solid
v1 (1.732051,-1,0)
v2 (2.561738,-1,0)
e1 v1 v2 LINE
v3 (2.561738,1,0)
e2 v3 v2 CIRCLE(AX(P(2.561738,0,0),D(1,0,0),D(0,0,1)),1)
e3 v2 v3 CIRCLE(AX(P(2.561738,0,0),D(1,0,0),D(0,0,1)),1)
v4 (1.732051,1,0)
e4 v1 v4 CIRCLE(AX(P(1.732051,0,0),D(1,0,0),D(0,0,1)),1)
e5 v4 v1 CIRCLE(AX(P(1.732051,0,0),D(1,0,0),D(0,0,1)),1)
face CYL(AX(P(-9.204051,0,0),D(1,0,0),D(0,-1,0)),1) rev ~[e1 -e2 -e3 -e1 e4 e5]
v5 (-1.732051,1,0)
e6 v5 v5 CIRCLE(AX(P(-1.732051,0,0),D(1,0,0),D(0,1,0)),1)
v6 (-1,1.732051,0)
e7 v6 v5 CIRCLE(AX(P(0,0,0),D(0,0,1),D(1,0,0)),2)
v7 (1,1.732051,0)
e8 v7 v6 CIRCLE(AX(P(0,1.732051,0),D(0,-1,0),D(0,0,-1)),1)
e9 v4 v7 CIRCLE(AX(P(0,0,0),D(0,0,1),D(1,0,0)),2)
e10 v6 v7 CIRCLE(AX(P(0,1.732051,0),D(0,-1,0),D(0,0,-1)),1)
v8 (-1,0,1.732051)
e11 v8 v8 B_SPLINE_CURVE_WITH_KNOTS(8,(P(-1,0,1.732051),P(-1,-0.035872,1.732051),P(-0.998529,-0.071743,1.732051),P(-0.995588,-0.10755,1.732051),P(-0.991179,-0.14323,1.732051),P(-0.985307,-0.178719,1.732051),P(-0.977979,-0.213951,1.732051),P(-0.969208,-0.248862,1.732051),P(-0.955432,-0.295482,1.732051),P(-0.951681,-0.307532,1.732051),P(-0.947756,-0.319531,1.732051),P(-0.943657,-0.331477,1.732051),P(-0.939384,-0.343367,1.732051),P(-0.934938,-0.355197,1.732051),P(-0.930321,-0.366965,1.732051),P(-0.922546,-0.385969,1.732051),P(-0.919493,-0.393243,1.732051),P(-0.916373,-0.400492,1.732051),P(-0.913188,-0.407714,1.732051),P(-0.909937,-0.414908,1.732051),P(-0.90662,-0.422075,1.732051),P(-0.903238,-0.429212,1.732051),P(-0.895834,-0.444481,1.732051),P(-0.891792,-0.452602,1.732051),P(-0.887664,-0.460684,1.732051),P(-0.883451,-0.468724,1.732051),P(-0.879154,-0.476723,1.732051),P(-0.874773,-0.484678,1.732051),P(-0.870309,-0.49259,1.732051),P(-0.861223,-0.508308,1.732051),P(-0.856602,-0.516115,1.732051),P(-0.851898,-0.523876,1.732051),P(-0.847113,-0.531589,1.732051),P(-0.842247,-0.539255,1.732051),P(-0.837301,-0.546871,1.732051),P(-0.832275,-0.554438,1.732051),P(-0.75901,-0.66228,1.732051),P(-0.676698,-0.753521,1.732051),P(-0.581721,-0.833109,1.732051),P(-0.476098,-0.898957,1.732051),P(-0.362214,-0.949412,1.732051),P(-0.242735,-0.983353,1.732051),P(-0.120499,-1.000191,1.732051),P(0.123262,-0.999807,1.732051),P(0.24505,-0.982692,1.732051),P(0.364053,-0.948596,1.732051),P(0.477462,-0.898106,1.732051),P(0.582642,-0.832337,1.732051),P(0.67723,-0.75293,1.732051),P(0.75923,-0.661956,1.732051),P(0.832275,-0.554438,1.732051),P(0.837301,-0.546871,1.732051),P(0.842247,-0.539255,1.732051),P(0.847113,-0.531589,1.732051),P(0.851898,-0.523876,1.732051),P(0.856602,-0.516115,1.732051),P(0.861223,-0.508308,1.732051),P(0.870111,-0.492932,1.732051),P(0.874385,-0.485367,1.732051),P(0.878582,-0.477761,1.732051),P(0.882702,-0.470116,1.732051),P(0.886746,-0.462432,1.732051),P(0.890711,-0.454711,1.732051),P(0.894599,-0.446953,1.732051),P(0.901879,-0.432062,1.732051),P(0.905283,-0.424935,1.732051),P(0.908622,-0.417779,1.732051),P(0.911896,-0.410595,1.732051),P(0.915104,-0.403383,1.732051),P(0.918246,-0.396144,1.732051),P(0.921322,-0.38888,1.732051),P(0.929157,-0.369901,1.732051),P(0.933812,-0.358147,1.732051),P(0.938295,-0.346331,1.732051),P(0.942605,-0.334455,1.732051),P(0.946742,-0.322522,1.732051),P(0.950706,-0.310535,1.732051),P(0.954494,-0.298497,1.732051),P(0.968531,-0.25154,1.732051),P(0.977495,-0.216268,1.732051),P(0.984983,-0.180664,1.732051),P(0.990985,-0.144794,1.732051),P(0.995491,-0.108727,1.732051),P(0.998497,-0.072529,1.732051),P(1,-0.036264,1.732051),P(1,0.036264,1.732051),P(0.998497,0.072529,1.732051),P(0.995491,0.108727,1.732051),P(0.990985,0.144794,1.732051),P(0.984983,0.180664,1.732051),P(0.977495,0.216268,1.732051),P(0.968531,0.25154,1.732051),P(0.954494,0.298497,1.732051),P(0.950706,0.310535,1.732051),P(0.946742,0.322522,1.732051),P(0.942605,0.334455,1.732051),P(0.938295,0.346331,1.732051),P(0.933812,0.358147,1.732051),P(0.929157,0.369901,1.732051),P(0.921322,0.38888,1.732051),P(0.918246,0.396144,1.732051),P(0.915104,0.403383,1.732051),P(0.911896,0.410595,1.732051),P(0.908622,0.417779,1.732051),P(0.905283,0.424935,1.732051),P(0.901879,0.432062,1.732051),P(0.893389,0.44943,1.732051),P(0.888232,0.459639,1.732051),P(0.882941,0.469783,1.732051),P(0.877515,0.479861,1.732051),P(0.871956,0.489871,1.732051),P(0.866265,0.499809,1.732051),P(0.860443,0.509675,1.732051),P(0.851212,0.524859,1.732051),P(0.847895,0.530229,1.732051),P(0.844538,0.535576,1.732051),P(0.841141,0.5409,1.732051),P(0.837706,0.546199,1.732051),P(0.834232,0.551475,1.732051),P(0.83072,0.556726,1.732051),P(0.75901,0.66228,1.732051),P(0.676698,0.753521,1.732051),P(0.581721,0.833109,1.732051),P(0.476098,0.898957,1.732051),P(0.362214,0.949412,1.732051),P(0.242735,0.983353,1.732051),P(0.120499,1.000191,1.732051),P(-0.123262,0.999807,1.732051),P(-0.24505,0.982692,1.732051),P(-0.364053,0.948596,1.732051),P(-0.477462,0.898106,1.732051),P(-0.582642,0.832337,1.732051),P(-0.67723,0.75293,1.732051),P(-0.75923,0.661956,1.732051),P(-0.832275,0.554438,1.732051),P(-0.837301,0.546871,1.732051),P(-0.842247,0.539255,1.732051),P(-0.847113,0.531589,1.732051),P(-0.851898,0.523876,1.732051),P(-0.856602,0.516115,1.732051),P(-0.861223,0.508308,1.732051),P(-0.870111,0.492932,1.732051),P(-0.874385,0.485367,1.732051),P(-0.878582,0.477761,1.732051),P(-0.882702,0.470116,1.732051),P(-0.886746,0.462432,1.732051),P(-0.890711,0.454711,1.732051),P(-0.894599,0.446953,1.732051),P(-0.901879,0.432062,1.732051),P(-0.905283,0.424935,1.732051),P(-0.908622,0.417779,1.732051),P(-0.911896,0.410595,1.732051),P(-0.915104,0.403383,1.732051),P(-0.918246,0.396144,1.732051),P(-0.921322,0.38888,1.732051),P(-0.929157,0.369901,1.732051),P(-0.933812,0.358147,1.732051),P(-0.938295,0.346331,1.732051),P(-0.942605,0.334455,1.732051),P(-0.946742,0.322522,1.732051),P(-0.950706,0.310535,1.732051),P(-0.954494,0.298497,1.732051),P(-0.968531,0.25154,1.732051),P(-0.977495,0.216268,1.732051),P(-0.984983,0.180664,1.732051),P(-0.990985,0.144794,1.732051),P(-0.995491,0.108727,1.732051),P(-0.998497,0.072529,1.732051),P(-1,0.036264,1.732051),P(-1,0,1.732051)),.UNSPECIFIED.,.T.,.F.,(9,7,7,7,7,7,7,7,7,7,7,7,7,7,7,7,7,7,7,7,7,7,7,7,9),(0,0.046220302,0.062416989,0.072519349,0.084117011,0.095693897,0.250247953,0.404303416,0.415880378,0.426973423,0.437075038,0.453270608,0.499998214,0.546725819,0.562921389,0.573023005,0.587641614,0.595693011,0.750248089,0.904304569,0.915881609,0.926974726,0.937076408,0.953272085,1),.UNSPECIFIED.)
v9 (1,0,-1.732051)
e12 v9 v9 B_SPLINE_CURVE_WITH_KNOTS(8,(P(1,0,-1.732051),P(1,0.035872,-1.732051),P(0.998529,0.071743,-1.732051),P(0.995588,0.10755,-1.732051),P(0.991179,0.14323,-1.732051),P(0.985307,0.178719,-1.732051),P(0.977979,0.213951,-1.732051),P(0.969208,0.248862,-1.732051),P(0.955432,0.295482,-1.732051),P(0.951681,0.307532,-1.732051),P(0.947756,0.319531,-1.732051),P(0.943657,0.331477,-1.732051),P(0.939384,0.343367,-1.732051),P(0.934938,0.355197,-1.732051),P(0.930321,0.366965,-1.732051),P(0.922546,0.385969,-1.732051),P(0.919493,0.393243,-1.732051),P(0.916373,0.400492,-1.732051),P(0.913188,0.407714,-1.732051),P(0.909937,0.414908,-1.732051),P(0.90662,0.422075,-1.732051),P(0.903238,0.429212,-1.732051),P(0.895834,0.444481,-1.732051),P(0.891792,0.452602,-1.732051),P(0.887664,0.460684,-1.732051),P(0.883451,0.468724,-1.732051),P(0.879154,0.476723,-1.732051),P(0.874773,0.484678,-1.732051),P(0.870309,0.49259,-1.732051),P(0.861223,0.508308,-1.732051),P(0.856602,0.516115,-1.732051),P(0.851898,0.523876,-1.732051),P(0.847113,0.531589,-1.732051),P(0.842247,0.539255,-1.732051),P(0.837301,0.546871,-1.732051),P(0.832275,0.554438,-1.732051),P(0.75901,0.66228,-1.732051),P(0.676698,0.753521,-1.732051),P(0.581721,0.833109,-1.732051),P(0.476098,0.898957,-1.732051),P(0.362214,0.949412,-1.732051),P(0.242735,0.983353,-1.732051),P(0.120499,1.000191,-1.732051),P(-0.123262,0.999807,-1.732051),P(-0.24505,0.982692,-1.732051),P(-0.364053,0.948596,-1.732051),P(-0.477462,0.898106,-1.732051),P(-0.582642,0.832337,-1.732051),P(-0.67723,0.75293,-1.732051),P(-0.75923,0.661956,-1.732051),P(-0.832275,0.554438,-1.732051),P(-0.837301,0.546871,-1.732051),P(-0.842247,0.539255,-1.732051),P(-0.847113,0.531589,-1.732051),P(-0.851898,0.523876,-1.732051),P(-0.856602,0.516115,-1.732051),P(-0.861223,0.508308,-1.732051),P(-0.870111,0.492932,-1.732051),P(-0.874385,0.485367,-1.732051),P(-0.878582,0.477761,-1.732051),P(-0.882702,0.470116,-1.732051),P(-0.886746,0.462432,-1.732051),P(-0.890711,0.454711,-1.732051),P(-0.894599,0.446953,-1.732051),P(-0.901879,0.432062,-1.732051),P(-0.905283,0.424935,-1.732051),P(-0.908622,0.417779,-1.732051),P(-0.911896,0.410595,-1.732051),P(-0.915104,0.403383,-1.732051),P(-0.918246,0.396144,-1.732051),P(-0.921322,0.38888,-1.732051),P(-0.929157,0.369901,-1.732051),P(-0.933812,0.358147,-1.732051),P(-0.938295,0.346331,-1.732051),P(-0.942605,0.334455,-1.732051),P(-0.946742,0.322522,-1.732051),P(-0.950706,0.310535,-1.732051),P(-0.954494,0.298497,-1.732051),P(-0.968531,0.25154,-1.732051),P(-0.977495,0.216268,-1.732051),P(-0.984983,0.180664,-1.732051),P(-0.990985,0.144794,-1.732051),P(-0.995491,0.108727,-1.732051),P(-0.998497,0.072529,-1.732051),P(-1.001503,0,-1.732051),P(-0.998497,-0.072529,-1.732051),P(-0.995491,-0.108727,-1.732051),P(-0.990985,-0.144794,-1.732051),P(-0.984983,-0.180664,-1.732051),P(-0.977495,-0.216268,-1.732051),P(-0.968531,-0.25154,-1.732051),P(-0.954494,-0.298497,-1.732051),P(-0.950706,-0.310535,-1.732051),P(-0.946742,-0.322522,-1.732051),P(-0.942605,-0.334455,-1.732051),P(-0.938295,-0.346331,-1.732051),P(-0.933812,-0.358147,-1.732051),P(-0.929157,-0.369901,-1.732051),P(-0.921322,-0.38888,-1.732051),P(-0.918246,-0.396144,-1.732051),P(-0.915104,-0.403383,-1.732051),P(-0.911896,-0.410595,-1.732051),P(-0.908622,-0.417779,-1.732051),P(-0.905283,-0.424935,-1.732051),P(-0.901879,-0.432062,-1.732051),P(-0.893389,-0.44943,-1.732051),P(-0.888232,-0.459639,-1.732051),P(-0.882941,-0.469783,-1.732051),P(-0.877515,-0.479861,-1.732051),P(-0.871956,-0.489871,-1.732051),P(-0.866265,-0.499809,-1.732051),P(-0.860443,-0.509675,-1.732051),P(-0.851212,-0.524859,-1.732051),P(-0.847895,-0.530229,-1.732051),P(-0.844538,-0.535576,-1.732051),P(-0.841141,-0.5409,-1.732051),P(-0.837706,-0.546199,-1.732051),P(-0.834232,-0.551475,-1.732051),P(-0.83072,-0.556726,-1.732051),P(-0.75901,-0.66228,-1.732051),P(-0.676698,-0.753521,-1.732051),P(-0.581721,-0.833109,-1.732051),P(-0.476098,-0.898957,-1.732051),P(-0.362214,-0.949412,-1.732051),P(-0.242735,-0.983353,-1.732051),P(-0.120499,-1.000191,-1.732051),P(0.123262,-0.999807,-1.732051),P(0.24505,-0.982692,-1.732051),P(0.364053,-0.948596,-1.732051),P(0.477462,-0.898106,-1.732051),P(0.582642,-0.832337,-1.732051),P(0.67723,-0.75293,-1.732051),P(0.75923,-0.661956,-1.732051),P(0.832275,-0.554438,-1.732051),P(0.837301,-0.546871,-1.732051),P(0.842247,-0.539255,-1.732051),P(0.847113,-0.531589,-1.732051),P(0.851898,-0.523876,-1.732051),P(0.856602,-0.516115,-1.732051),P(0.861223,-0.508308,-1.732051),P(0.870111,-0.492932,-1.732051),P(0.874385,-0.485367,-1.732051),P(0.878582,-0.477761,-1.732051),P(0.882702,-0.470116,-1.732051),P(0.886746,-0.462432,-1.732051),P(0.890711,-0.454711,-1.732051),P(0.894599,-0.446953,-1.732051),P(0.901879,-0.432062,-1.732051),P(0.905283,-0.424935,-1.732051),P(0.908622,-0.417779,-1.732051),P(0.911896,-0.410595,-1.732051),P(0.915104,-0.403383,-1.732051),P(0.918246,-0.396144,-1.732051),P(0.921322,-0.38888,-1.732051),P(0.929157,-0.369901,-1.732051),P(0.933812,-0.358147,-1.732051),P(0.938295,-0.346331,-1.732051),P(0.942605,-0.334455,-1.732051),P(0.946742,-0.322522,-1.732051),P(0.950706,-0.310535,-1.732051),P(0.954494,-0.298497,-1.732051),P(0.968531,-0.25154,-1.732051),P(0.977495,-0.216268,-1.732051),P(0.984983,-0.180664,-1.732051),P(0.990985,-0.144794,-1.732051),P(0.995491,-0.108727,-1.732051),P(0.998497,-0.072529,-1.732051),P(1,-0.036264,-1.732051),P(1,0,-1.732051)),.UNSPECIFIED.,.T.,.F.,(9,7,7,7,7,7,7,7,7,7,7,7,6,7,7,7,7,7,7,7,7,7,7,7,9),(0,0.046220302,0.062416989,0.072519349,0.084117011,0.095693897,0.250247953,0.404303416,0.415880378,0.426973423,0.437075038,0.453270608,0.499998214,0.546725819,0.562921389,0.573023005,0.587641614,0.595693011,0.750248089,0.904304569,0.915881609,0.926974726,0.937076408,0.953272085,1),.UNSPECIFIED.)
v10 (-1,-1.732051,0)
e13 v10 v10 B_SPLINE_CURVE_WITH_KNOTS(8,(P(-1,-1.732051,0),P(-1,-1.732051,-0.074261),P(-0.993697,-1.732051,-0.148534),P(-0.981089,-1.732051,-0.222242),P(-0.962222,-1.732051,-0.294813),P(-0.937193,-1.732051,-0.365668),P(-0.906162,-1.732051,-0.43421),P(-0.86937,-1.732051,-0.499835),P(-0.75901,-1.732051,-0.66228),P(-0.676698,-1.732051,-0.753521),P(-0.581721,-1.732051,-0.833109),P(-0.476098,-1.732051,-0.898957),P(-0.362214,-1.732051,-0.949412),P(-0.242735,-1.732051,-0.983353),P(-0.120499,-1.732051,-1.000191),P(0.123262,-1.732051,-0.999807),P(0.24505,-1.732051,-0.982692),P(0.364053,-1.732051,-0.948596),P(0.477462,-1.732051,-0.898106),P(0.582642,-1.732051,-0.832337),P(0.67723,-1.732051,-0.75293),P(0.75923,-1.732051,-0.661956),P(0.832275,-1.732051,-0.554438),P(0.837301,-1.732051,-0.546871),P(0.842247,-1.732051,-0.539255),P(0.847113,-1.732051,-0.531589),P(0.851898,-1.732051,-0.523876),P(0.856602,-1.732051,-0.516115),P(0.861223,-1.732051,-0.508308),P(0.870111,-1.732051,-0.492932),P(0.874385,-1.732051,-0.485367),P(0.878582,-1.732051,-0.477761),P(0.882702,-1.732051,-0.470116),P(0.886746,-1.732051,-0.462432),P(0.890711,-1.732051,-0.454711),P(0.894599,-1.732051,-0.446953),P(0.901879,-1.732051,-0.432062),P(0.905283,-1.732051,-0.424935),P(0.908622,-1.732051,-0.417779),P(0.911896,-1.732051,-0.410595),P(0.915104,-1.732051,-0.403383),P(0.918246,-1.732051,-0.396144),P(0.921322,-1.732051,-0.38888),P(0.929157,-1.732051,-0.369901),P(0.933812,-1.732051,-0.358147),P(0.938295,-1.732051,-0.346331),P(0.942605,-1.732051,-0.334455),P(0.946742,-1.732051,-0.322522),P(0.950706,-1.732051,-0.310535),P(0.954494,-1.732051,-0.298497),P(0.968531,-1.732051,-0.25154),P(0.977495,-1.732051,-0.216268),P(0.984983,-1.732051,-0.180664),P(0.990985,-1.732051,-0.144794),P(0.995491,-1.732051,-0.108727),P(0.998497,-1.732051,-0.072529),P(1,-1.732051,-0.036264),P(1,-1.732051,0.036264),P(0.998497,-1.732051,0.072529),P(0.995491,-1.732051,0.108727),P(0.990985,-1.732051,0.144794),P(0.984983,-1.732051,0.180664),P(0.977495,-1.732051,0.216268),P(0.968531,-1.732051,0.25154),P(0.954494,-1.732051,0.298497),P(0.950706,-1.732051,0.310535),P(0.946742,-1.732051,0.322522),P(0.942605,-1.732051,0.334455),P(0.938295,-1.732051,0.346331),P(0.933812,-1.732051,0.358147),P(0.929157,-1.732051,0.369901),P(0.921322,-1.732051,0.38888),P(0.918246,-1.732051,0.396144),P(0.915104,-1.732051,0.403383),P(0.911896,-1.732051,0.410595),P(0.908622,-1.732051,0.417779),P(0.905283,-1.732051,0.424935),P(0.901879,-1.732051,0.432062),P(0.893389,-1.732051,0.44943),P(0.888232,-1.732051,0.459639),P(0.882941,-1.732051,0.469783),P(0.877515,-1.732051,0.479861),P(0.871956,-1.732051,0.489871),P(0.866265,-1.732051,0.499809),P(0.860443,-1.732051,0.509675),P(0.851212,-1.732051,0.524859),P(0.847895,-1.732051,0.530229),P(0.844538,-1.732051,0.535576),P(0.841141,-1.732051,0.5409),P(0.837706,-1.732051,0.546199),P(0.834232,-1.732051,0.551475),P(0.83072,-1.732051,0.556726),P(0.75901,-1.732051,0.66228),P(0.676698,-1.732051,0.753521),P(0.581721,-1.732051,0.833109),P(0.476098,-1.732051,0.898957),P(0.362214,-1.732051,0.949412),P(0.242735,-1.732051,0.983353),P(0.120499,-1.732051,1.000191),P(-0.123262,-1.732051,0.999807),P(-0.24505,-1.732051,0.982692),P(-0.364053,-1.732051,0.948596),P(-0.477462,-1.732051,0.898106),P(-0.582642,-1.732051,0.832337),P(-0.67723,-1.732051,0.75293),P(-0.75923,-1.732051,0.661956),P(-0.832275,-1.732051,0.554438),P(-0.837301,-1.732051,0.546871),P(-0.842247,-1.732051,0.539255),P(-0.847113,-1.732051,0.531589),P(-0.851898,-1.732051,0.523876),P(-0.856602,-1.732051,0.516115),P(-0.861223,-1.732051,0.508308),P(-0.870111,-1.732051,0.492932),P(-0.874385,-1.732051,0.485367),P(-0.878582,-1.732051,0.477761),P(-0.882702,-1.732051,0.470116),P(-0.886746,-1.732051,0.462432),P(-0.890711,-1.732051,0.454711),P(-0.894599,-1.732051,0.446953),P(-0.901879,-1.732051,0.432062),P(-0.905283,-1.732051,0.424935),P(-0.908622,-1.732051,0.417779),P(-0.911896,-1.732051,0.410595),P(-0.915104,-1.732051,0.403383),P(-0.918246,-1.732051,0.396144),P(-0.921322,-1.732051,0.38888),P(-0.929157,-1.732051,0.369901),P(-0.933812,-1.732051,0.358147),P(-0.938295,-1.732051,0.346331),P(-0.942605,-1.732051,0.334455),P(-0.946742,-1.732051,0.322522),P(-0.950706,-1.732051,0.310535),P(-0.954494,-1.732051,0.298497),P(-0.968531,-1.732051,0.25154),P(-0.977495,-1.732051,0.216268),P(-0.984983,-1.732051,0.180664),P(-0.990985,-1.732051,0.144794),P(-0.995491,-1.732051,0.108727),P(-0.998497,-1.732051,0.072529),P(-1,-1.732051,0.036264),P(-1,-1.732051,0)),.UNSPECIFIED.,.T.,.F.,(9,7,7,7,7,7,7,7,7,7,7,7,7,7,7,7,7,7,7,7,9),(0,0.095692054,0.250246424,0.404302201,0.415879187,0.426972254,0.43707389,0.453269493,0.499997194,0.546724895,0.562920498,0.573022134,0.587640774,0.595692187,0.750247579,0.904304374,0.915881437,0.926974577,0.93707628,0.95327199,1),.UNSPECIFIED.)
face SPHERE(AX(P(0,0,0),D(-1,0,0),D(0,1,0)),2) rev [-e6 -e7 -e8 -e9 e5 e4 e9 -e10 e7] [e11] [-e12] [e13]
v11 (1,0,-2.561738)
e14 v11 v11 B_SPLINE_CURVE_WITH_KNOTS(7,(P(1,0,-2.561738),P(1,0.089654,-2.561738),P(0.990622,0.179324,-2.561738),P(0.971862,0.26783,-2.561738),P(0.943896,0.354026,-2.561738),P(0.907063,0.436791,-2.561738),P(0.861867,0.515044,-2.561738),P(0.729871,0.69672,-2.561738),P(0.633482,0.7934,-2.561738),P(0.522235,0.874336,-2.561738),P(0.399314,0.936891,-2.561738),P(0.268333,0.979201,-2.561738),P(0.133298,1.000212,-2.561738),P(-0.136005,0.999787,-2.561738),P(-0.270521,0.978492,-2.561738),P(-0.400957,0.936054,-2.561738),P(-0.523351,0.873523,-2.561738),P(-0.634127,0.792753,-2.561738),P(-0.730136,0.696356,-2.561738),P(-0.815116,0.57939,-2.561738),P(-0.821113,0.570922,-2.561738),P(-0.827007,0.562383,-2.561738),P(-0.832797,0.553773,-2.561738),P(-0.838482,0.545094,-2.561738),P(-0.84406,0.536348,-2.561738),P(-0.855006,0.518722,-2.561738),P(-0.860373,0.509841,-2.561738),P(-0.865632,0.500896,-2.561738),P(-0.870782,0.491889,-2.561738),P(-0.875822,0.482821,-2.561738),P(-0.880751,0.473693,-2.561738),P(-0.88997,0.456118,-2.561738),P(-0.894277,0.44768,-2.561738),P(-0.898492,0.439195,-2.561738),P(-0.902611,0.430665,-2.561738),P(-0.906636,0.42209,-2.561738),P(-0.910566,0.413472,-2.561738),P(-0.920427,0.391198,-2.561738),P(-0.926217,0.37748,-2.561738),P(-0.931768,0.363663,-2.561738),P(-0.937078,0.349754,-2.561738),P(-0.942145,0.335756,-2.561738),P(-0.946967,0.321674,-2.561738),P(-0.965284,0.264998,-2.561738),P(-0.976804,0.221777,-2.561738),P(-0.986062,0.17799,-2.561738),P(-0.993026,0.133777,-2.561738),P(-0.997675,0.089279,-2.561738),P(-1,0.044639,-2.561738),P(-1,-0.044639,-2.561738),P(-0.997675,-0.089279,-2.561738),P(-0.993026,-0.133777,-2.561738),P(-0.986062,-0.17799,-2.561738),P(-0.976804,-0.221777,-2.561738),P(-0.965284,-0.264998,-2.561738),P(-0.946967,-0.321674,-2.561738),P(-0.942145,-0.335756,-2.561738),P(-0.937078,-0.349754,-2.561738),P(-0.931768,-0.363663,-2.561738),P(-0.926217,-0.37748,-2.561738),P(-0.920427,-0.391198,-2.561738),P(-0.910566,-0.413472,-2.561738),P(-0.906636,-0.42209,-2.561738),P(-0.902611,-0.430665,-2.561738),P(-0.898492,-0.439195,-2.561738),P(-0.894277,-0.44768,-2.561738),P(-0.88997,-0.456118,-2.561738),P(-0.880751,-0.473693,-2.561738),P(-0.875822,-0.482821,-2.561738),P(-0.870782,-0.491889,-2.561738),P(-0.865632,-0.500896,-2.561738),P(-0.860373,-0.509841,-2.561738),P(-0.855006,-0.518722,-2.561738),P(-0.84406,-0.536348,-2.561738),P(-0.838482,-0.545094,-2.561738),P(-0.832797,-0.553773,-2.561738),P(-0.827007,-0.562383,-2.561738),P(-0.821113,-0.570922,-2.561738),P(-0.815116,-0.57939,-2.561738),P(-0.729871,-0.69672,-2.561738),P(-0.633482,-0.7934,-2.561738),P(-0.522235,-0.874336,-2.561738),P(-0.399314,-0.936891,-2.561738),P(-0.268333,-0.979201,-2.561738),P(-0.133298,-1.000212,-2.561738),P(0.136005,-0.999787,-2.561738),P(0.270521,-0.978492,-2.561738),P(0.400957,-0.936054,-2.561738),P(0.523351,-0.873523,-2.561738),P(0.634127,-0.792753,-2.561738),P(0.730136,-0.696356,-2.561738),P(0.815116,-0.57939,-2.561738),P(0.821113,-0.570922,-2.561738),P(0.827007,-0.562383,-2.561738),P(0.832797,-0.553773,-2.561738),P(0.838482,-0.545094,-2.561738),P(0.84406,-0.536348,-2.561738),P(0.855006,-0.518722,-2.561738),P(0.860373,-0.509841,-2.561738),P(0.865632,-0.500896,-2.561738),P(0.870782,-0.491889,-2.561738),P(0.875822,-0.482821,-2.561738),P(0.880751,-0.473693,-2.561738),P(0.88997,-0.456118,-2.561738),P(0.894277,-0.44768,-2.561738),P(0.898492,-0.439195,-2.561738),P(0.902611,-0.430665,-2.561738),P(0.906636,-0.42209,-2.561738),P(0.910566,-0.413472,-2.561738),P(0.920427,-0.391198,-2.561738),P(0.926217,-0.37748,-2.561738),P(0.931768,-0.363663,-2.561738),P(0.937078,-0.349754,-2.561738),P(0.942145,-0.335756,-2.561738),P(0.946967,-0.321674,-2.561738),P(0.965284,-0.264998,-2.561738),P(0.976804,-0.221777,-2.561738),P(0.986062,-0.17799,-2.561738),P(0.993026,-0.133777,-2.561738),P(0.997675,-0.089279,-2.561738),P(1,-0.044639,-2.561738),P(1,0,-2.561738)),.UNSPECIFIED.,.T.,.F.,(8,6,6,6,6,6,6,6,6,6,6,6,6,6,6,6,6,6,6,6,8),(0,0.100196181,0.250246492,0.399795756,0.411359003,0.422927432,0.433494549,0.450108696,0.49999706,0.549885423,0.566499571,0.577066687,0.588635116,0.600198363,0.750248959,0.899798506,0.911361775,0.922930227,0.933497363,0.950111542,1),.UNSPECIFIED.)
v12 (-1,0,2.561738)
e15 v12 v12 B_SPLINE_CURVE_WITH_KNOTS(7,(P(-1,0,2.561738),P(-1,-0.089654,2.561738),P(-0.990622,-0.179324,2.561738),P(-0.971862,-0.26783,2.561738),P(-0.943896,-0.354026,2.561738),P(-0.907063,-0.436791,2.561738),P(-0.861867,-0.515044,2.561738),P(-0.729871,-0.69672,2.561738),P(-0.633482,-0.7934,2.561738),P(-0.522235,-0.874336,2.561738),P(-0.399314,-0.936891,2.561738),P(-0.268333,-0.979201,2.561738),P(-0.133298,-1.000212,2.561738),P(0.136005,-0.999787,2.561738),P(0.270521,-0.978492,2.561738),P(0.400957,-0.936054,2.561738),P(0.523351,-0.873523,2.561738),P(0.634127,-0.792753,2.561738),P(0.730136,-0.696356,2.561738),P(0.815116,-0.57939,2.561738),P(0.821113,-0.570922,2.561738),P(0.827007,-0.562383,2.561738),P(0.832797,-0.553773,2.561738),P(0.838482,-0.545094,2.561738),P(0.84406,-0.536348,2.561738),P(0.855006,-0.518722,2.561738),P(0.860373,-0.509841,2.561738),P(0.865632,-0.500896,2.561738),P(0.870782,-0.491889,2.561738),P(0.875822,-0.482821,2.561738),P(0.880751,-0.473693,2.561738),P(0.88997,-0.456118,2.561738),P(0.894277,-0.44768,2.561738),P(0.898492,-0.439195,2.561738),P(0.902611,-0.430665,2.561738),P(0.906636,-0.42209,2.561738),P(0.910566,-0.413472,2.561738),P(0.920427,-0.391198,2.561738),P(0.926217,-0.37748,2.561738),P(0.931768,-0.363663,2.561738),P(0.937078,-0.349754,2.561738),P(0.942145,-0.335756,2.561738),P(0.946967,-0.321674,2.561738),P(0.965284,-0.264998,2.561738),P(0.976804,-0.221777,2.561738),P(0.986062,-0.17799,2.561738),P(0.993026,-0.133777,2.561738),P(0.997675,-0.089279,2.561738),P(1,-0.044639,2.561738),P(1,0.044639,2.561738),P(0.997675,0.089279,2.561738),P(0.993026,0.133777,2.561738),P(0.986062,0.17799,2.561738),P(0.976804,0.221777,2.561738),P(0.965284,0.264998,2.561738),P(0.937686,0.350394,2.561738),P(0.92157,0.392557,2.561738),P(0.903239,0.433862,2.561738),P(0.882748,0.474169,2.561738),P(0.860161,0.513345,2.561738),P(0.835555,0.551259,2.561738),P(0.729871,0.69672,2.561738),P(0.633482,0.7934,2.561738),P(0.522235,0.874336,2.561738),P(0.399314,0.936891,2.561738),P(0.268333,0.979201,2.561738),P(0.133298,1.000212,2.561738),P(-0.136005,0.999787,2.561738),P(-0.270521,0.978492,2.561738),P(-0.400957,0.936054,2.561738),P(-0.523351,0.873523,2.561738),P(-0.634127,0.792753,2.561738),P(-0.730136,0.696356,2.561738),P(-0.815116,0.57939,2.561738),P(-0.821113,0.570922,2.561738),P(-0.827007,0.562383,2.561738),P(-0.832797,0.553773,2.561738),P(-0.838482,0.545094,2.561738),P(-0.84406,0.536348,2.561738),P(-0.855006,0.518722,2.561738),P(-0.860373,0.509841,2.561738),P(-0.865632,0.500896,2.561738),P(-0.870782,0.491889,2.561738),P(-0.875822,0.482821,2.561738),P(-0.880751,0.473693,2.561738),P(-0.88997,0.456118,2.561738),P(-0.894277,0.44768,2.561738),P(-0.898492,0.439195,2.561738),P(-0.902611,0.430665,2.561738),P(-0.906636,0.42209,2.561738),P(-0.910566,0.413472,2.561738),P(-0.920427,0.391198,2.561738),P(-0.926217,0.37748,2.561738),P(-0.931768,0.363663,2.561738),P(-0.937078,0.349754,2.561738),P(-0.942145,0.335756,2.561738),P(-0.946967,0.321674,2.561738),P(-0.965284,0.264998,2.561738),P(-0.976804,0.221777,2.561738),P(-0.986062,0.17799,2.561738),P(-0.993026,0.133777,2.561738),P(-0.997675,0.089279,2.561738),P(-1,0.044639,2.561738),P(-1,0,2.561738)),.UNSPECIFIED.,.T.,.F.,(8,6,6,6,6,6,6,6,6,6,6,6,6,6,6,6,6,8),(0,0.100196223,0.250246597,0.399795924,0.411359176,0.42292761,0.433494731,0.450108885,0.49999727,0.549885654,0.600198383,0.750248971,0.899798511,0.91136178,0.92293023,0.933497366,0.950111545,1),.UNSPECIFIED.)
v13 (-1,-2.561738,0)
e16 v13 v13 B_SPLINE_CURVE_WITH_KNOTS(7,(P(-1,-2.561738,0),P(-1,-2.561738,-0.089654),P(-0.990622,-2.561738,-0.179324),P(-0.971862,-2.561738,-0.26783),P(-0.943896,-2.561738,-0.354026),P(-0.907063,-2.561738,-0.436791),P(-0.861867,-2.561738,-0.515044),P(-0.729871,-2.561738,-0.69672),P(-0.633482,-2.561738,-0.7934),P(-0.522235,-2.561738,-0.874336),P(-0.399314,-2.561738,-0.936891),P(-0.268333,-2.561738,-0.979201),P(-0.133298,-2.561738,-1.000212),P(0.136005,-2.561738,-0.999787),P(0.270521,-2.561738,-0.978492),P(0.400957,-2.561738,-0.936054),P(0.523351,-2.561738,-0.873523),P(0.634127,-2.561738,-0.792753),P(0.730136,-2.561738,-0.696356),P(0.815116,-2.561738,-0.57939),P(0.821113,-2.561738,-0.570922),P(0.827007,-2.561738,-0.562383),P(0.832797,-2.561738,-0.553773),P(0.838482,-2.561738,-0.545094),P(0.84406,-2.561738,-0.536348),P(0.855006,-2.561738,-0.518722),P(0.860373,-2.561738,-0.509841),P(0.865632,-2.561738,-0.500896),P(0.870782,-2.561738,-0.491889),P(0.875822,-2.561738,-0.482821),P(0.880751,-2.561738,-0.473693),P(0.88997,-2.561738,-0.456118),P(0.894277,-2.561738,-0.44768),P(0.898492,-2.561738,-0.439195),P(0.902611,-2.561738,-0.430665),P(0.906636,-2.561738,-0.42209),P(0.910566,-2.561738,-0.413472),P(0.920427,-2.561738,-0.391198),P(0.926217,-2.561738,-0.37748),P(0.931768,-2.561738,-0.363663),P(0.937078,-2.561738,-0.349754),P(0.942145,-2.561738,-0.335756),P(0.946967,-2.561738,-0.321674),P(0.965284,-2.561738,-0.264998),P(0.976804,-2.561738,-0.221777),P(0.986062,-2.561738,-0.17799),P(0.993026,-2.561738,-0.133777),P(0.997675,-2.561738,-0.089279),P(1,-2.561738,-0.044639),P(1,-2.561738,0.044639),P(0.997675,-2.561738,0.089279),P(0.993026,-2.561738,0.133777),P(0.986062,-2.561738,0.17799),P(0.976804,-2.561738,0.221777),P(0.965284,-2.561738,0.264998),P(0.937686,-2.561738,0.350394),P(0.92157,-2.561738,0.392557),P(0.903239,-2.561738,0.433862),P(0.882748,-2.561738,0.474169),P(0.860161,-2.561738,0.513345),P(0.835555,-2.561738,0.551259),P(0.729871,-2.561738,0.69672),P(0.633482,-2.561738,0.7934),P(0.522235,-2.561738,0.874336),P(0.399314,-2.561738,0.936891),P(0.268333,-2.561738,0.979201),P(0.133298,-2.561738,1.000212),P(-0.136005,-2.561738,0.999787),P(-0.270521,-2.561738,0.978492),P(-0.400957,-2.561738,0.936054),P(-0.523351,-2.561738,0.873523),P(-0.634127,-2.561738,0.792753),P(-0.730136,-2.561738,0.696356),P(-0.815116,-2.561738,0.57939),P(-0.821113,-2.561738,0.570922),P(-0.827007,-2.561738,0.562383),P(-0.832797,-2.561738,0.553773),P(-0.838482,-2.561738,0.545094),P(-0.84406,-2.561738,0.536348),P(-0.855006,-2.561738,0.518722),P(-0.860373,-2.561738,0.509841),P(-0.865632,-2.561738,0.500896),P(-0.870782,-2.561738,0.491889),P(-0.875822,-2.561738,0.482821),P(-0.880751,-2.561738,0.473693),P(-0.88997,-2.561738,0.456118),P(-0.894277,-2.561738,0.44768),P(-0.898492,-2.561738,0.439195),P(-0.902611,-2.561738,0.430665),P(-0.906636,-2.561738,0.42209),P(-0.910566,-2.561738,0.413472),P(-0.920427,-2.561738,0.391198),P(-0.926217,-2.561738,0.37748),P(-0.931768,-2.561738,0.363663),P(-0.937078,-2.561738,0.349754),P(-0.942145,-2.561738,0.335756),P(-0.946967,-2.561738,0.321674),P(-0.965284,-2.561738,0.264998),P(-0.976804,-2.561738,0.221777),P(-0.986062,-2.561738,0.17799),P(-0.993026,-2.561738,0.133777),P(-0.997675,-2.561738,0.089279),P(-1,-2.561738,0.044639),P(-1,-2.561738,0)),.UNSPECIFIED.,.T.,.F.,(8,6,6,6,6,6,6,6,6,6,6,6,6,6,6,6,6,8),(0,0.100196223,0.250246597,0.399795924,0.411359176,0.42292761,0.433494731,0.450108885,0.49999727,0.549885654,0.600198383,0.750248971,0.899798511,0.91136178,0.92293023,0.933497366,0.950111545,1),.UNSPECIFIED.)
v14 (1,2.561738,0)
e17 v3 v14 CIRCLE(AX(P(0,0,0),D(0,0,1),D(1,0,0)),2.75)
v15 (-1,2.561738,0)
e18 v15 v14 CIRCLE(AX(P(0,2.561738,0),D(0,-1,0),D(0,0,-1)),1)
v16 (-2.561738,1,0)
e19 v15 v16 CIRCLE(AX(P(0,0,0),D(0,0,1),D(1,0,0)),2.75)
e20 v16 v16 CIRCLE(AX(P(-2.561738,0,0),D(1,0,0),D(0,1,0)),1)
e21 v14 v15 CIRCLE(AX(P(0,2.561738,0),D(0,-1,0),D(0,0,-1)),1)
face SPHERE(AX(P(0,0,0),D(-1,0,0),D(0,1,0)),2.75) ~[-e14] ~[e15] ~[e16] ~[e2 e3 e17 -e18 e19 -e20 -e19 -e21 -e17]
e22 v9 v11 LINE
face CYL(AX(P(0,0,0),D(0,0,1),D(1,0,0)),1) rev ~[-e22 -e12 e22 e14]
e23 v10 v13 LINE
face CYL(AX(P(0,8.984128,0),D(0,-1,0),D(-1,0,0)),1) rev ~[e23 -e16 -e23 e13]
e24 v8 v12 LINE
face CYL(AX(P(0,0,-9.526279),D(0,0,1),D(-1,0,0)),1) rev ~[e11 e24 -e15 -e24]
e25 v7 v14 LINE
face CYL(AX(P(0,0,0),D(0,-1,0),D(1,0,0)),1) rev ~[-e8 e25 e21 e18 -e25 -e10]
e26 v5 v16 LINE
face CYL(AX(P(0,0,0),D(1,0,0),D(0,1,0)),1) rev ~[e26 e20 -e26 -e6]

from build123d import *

# Parameters (mm, degrees)
F2_T      = -0.75
F4_D      = 2
F4_DEPTH  = 2.751
F6_D      = 2
F8_D      = 2
F8_DEPTH  = 2.751
F10_D     = 2
F12_D     = 2
F12_DEPTH = 2.751
F14_D     = 2


with BuildPart() as f1:
    # F0 (on Top) → F1 (revolve)
    with BuildSketch(Plane.XY):
        with BuildLine():
            ThreePointArc((2.75, 0), (0, 2.75), (-2.75, 0))
            Line((-2.75, 0), (2.75, 0))
        make_face()
    revolve(axis=Axis((0.1047021379, 0, 0), (1, 0, 0)))

    # F2 (hollow: no face is removed)
    offset(amount=F2_T, mode=Mode.SUBTRACT)

    # F4 (through all, one way)
    with BuildSketch(Plane.XY):
        with Locations((0, 0)):
            Circle(F4_D / 2)
    extrude(amount=-F4_DEPTH, mode=Mode.SUBTRACT)

    # F6 (through all)
    with Locations(Plane(origin=(0, 0, 0), x_dir=(1, 0, 0), z_dir=(0, 0, -1))):
        with Locations((0, 0)):
            Hole(F6_D / 2)

    # F8 (through all, one way)
    with BuildSketch(Plane.YZ):
        with Locations((0, 0)):
            Circle(F8_D / 2)
    extrude(amount=-F8_DEPTH, mode=Mode.SUBTRACT)

    # F10 (through all)
    with Locations(Plane(origin=(0, 0, 0), x_dir=(0, 1, 0), z_dir=(-1, 0, 0))):
        with Locations((0, 0)):
            Hole(F10_D / 2)

    # F12 (through all, one way)
    with BuildSketch(Plane.XZ):
        with Locations((0, 0)):
            Circle(F12_D / 2)
    extrude(amount=-F12_DEPTH, mode=Mode.SUBTRACT)

    # F14 (through all)
    with Locations(Plane(origin=(0, 0, 0), x_dir=(1, 0, 0), z_dir=(0, 1, 0))):
        with Locations((0, 0)):
            Hole(F14_D / 2)


solid = f1.part
